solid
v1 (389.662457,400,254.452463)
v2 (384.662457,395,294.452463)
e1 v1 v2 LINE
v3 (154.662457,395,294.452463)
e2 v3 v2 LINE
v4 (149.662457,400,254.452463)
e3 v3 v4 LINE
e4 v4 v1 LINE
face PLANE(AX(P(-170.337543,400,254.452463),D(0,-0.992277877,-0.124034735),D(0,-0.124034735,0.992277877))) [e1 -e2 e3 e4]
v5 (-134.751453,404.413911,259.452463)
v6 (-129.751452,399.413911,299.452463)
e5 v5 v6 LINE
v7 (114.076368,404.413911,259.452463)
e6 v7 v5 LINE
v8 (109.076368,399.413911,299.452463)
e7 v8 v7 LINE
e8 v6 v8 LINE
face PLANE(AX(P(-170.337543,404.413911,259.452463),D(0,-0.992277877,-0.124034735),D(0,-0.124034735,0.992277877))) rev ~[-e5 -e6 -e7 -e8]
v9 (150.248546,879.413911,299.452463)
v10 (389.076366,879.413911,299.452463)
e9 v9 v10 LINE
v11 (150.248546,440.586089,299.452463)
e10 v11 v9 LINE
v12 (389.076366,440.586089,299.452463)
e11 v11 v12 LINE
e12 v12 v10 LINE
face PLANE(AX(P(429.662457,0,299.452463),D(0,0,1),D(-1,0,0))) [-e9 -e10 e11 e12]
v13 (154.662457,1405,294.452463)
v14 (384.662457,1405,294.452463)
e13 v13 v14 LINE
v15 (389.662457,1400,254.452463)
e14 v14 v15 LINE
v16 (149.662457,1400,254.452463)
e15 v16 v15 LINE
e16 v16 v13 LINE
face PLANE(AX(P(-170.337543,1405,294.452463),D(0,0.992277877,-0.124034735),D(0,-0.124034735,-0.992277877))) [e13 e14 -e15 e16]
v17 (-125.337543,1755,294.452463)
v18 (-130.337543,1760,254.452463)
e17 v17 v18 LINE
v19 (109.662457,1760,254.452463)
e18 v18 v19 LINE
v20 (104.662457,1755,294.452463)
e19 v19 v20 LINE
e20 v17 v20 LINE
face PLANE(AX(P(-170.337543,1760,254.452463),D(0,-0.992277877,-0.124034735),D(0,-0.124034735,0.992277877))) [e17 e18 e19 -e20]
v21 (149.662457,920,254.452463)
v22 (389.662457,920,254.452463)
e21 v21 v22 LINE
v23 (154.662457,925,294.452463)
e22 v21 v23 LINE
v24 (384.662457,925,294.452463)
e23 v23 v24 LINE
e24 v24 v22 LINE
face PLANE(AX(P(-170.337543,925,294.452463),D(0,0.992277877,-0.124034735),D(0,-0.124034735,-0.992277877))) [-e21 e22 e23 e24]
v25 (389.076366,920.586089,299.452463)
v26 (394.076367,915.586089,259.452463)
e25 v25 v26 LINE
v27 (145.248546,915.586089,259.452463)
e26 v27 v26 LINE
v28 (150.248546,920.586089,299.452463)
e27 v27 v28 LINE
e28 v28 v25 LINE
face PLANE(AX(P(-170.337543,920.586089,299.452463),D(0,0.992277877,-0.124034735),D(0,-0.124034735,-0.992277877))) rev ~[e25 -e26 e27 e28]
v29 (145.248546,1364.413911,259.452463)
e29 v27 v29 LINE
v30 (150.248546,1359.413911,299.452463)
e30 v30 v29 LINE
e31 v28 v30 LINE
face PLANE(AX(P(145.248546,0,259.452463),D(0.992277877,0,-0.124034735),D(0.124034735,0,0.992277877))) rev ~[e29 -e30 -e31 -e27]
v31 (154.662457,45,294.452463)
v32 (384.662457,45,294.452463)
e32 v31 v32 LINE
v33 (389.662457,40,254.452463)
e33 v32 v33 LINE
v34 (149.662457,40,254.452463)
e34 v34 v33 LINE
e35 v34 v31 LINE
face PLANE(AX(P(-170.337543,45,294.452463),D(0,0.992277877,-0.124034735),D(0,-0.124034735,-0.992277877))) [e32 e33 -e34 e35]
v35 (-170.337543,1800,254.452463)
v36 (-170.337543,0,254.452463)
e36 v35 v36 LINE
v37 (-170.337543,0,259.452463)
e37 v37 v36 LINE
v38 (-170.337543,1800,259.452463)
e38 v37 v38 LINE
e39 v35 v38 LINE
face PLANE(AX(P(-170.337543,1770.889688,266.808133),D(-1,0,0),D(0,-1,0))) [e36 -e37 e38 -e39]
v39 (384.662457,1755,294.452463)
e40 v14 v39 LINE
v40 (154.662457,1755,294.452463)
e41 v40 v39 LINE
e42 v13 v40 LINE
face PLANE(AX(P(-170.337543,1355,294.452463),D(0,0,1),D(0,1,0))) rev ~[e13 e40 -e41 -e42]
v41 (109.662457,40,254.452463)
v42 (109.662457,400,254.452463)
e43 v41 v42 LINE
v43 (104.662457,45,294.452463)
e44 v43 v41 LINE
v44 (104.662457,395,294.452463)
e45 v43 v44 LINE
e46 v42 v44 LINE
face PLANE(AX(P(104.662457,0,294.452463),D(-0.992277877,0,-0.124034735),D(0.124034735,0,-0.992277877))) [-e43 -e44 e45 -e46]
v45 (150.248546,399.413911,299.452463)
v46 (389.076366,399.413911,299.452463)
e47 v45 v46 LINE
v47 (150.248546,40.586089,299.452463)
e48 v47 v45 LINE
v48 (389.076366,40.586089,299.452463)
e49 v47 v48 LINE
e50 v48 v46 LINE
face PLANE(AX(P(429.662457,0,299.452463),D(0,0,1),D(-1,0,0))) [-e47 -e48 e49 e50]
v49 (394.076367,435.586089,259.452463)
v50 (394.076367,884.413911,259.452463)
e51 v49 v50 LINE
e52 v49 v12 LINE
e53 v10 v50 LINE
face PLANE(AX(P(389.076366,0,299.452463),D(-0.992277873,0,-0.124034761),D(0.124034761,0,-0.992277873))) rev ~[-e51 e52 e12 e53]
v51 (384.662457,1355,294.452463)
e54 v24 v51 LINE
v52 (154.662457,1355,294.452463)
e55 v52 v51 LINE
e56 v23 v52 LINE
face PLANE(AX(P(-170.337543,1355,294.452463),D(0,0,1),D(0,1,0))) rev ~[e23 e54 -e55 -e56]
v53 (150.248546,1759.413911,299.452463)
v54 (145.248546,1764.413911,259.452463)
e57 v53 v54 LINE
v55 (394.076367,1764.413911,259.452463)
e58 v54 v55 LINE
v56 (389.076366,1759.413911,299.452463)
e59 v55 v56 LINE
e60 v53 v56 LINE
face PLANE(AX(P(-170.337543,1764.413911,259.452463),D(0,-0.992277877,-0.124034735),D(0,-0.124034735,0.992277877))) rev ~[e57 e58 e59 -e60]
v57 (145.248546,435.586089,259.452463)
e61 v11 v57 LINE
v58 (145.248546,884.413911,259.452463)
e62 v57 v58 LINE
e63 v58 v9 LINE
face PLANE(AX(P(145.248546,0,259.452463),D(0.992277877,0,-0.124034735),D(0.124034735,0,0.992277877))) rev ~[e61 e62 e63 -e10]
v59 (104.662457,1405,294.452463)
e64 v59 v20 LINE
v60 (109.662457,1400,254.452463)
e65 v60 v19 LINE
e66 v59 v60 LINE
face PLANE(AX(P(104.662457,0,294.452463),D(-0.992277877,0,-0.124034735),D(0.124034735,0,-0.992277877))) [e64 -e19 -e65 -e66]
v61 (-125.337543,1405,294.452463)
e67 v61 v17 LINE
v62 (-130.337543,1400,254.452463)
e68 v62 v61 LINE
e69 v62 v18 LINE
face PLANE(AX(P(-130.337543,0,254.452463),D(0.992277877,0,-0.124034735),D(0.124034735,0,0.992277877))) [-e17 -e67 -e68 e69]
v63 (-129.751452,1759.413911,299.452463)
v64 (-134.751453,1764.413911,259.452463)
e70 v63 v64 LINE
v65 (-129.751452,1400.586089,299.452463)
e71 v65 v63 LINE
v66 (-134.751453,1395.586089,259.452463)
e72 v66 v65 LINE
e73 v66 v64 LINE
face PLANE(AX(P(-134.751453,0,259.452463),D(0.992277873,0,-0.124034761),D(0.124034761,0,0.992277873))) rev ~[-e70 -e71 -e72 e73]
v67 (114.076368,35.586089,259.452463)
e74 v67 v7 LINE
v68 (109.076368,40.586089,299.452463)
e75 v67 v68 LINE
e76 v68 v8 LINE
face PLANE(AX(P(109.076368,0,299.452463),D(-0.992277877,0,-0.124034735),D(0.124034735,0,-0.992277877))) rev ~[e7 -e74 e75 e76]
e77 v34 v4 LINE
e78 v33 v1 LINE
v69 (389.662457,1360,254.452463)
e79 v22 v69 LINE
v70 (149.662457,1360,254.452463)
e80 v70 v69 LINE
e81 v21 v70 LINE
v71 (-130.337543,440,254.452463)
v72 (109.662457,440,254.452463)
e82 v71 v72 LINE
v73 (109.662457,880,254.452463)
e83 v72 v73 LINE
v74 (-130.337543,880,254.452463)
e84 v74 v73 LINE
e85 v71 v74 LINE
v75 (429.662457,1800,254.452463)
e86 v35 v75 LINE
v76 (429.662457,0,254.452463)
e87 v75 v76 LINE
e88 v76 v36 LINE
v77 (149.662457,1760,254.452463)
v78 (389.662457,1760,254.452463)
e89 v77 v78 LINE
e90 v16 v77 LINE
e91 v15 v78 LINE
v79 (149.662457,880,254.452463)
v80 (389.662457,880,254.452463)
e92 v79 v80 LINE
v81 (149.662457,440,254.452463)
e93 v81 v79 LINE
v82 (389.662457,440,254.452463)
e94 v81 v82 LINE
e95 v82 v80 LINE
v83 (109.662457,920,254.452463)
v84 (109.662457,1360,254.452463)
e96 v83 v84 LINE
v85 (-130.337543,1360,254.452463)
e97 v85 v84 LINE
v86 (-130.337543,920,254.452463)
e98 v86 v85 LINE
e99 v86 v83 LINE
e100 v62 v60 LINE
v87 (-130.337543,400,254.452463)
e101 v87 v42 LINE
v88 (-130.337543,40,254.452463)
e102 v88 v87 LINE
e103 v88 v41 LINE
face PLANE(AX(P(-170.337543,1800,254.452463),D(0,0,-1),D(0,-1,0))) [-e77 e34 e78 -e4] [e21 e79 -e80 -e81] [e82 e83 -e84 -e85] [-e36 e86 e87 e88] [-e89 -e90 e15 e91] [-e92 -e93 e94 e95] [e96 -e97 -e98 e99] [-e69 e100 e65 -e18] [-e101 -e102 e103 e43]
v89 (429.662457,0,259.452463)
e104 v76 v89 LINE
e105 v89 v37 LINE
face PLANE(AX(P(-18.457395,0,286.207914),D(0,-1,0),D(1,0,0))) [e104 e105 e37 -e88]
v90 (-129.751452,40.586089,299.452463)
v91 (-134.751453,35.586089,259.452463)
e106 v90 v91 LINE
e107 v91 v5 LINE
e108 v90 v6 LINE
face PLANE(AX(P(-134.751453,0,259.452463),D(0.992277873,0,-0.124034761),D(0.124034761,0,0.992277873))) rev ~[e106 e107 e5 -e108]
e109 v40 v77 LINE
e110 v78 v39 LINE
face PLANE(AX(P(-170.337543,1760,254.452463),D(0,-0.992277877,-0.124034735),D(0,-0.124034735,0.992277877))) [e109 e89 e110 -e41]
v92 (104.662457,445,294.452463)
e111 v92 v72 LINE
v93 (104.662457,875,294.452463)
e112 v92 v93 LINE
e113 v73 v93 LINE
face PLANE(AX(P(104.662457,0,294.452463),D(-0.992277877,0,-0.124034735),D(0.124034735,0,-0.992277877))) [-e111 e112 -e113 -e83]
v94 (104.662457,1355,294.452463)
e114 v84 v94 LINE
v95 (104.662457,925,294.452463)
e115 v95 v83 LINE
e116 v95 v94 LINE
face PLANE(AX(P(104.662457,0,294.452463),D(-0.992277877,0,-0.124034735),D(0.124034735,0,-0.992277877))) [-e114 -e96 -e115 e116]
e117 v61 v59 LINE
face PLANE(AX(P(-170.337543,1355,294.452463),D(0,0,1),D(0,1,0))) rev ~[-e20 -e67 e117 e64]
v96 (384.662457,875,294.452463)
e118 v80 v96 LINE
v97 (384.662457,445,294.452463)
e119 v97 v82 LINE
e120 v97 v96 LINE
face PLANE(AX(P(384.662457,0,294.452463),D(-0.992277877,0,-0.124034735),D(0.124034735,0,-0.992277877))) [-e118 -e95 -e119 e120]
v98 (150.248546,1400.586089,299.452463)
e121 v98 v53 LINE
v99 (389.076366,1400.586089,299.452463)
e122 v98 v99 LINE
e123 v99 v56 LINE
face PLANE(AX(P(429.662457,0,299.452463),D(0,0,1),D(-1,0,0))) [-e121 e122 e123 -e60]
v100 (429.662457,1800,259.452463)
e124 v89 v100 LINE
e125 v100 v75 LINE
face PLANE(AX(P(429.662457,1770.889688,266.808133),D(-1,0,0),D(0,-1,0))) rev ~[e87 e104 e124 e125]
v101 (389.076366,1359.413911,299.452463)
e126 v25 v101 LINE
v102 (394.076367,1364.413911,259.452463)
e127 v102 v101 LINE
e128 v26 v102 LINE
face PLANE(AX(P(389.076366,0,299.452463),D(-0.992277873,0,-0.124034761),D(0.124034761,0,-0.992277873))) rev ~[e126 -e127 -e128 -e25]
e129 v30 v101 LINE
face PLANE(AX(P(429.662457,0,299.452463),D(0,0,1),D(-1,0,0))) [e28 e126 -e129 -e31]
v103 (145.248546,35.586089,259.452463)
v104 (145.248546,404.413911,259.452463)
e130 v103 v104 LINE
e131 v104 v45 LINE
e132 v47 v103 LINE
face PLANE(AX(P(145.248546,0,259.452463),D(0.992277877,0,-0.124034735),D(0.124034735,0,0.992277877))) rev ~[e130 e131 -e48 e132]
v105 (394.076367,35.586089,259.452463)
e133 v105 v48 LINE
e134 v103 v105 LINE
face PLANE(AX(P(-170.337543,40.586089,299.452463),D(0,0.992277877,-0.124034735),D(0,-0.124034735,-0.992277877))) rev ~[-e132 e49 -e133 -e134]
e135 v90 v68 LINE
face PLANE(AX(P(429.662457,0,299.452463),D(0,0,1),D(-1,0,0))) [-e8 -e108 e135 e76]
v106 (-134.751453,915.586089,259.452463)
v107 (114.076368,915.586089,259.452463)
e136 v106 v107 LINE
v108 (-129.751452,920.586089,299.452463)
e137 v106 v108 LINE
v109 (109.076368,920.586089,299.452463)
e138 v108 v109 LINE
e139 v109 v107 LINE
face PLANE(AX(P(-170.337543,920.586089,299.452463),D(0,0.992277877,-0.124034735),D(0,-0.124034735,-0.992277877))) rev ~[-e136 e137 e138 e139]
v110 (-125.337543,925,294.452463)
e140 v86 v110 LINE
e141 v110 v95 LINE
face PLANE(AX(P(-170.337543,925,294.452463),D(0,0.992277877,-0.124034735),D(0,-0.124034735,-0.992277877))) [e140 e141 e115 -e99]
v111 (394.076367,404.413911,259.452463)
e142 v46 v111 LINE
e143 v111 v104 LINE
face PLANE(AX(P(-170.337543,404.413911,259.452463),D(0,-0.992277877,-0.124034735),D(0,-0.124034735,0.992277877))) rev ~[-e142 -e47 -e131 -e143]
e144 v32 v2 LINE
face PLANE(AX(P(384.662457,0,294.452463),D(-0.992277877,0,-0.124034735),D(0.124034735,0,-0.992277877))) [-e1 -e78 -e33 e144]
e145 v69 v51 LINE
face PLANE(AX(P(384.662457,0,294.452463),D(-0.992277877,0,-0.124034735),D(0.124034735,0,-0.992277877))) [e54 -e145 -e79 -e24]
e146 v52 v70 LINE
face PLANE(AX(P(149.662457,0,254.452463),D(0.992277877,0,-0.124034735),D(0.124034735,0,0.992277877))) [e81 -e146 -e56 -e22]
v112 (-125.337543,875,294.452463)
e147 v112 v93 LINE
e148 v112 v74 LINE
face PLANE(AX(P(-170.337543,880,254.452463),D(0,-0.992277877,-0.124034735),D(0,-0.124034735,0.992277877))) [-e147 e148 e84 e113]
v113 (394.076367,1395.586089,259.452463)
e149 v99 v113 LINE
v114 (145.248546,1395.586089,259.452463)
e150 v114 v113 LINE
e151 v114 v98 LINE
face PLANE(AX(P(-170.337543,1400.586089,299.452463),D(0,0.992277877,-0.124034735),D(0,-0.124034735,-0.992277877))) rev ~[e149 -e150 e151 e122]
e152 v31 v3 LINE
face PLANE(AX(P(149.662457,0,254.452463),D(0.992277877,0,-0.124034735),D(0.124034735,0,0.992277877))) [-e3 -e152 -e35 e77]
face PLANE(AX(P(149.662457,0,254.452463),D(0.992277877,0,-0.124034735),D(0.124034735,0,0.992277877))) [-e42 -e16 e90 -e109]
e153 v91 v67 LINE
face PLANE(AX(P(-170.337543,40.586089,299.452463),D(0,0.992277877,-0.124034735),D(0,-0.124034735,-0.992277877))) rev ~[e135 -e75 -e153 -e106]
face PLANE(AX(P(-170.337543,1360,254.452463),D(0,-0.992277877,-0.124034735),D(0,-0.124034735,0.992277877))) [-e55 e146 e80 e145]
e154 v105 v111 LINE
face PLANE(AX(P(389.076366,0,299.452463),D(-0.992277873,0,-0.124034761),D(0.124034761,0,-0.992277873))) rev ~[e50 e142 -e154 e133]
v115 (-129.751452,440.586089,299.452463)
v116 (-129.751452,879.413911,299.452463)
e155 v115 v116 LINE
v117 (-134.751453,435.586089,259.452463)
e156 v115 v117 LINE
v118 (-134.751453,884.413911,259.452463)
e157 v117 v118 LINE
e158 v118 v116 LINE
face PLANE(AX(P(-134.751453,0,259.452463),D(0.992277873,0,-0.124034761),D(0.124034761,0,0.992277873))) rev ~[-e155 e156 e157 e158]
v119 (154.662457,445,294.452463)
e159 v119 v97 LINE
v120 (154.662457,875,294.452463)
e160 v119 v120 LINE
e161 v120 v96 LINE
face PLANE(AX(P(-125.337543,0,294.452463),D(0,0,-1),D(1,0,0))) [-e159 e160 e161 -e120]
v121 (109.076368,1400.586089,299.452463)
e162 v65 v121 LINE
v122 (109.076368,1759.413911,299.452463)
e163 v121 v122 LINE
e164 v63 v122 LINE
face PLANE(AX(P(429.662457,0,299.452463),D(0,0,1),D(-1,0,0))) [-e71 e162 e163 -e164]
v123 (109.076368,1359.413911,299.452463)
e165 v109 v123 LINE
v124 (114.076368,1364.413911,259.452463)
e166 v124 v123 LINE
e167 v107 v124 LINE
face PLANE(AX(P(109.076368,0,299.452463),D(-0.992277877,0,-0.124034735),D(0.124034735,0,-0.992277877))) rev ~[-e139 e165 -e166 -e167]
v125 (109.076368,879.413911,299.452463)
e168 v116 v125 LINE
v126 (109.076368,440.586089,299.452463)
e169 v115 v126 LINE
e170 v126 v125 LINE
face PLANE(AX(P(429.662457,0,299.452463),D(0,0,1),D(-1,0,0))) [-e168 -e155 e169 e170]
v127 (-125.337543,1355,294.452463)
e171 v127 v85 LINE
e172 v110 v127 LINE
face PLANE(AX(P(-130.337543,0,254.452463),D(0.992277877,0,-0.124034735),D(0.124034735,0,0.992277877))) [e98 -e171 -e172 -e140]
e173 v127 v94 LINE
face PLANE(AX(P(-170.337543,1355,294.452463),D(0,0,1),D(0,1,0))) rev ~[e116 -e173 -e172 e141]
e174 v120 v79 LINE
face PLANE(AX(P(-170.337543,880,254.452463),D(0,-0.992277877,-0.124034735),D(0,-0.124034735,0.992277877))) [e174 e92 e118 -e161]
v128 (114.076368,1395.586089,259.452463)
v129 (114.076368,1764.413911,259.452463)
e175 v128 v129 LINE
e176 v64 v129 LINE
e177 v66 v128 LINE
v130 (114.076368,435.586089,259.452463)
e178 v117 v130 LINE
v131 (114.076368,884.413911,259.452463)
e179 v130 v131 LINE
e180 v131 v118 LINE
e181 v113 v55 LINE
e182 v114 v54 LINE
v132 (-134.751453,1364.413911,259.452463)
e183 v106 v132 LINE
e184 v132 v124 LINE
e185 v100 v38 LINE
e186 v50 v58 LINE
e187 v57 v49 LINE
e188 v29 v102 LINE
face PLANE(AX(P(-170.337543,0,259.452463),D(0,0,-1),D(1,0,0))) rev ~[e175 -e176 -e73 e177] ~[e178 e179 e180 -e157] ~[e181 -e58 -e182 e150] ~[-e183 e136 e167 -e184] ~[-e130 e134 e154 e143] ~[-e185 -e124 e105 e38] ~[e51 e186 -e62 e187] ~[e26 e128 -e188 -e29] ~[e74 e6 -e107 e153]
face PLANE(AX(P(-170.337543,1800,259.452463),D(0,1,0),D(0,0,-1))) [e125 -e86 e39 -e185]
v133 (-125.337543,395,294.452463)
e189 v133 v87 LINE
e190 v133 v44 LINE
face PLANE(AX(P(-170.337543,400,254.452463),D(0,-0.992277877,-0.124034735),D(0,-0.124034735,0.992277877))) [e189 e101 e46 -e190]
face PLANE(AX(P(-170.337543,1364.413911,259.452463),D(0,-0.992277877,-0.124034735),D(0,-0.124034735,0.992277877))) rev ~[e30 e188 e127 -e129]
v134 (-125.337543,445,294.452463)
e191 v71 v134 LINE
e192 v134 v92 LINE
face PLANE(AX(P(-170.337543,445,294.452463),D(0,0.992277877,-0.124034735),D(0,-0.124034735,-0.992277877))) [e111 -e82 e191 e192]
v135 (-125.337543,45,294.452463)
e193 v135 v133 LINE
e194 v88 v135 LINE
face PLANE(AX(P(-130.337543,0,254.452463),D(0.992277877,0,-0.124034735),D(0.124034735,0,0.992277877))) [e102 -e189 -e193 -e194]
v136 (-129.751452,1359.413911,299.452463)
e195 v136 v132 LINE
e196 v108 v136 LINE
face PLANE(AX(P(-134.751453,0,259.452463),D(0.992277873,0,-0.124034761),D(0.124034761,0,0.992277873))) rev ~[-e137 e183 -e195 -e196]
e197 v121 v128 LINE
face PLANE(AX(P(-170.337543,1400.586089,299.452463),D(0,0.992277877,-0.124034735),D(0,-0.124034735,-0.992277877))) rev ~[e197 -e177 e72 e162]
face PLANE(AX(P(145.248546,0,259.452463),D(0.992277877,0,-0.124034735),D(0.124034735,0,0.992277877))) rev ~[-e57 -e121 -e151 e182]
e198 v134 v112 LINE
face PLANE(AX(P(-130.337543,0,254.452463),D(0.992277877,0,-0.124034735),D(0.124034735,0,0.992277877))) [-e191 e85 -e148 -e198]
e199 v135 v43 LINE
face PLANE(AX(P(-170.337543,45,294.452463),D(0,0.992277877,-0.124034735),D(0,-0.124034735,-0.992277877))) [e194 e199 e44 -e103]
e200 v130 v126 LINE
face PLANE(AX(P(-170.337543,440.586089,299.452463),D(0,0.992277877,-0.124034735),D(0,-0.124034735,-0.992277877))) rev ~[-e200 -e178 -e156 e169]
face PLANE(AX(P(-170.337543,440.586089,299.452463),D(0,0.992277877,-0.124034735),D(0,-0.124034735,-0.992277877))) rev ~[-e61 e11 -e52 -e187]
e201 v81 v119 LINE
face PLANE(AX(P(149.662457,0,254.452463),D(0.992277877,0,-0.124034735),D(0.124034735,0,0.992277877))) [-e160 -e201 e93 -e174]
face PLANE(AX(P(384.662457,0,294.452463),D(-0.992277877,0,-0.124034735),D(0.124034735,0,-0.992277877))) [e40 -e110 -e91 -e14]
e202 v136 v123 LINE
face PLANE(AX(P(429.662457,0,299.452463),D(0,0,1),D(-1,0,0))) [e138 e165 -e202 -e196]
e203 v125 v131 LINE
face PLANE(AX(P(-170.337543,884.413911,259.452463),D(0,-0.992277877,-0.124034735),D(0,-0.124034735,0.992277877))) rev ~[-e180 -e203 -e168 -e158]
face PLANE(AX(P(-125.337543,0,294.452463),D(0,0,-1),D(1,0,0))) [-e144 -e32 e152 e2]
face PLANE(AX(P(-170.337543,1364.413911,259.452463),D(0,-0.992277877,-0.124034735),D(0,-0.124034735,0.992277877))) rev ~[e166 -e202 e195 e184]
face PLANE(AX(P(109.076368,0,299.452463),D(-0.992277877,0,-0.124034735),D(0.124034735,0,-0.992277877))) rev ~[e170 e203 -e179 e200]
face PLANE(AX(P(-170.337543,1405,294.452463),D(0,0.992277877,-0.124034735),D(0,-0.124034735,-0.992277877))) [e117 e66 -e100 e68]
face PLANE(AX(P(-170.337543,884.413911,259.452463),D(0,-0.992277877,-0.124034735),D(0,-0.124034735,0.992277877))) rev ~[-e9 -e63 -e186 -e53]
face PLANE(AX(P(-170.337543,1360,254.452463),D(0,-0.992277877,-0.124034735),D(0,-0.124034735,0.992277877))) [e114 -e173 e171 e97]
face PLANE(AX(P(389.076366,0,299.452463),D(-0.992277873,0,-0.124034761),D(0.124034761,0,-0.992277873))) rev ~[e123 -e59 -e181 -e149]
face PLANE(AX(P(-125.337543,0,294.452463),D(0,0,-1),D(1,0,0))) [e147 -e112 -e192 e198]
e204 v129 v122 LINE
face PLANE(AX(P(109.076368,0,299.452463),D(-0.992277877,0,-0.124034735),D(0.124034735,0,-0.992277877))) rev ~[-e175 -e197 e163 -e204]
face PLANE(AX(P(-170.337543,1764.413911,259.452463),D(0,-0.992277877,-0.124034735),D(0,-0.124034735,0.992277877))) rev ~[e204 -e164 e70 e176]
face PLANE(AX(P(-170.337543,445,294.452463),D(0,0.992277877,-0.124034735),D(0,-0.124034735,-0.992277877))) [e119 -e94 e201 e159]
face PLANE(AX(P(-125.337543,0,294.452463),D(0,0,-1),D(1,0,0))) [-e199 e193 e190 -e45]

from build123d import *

# Parameters (mm, degrees)
F1_DEPTH  = 1800
F3_DEPTH  = 800
F4_DEPTH  = 600
F5_DEPTH  = 600
F6_DEPTH  = 800
F7_DEPTH  = 600
F8_DEPTH  = 1900
F9_DEPTH  = 1900
F10_DEPTH = 1900
F11_DEPTH = 800


with BuildPart() as f1:
    # F0 (on Front) → F1 (new body)
    with BuildSketch(Plane.XZ):
        Polygon((-134.7514528915, 259.4524627924), (-170.3375428915, 259.4524627924), (-170.3375428915, 254.4524627924), (-130.3375428915, 254.4524627924), (-125.3375428915, 294.4524627924), (104.6624571085, 294.4524627924), (109.6624571085, 254.4524627924), (129.6624571085, 254.4524627924), (129.6624571085, 259.4524627924), (114.0763682012, 259.4524627924), (109.0763682012, 299.4524627924), (-129.7514517988, 299.4524627924), align=None)
        Polygon((-170.3375428915, 299.4524627924), (-170.3375428915, 259.4524627924), (-134.7514528915, 259.4524627924), (-129.7514517988, 299.4524627924), align=None)
        Polygon((150.2485460158, 299.4524627924), (109.0763682012, 299.4524627924), (114.0763682012, 259.4524627924), (129.6624571085, 259.4524627924), (145.2485460158, 259.4524627924), align=None)
        Polygon((389.0763660158, 299.4524627924), (150.2485460158, 299.4524627924), (145.2485460158, 259.4524627924), (129.6624571085, 259.4524627924), (129.6624571085, 254.4524627924), (149.6624571085, 254.4524627924), (154.6624571085, 294.4524627924), (384.6624571085, 294.4524627924), (389.6624571085, 254.4524627924), (429.6624571085, 254.4524627924), (429.6624571085, 259.4524627924), (394.0763671085, 259.4524627924), align=None)
        Polygon((429.6624571085, 299.4524627924), (389.0763660158, 299.4524627924), (394.0763671085, 259.4524627924), (429.6624571085, 259.4524627924), align=None)
    extrude(amount=-F1_DEPTH)

    # F2 (on face) → F3 (cut)
    with BuildSketch(Plane(origin=(-170.3375428915, 0, 0), x_dir=(0, -1, 0), z_dir=(-1, 0, 0))):
        Polygon((-1800, 254.4524627924), (-1760, 254.4524627924), (-1759.375, 259.4524627924), (-1755, 294.4524627924), (-1760.0389110927, 294.4524627924), (-1764.4139110927, 259.4524627924), (-1800, 259.4524627924), align=None)
    extrude(amount=-F3_DEPTH, mode=Mode.SUBTRACT)

    # F2 (on face) → F4 (join)
    with BuildSketch(Plane(origin=(-170.3375428915, 0, 0), x_dir=(0, -1, 0), z_dir=(-1, 0, 0))):
        Polygon((-1760.0389110927, 294.4524627924), (-1759.4139110927, 299.4524627924), (-1800, 299.4524627924), (-1800, 259.4524627924), (-1764.4139110927, 259.4524627924), align=None)
    extrude(amount=-F4_DEPTH)

    # F2 (on face) → F5 (join)
    with BuildSketch(Plane(origin=(-170.3375428915, 0, 0), x_dir=(0, -1, 0), z_dir=(-1, 0, 0))):
        Polygon((-1800, 254.4524627924), (-1760, 254.4524627924), (-1759.375, 259.4524627924), (-1755, 294.4524627924), (-1760.0389110927, 294.4524627924), (-1764.4139110927, 259.4524627924), (-1800, 259.4524627924), align=None)
    extrude(amount=-F5_DEPTH)

    # F2 (on face) → F6 (cut)
    with BuildSketch(Plane(origin=(-170.3375428915, 0, 0), x_dir=(0, -1, 0), z_dir=(-1, 0, 0))):
        Polygon((-1400, 254.4524627924), (-1360, 254.4524627924), (-1355, 294.4524627924), (-1360.0389110927, 294.4524627924), (-1364.4139110927, 259.4524627924), (-1395.5860889073, 259.4524627924), (-1399.9610889073, 294.4524627924), (-1405, 294.4524627924), (-1400.625, 259.4524627924), align=None)
        Polygon((-880.0389110927, 294.4524627924), (-879.4139110927, 299.4524627924), (-900, 299.4524627924), (-900, 259.4524627924), (-884.4139110927, 259.4524627924), align=None)
        Polygon((-920, 254.4524627924), (-900, 254.4524627924), (-900, 259.4524627924), (-915.5860889073, 259.4524627924), (-919.9610889073, 294.4524627924), (-925, 294.4524627924), align=None)
        Polygon((-400.0389110927, 294.4524627924), (-399.4139110927, 299.4524627924), (-440.5860889073, 299.4524627924), (-439.9610889073, 294.4524627924), (-435.5860889073, 259.4524627924), (-404.4139110927, 259.4524627924), align=None)
        Polygon((-35.5860889073, 259.4524627924), (0, 259.4524627924), (0, 299.4524627924), (-40.5860889073, 299.4524627924), (-39.9610889073, 294.4524627924), align=None)
    extrude(amount=-F6_DEPTH, mode=Mode.SUBTRACT)

    # F2 (on face) → F7 (join)
    with BuildSketch(Plane(origin=(-170.3375428915, 0, 0), x_dir=(0, -1, 0), z_dir=(-1, 0, 0))):
        Polygon((-40, 254.4524627924), (0, 254.4524627924), (0, 259.4524627924), (-35.5860889073, 259.4524627924), (-39.9610889073, 294.4524627924), (-45, 294.4524627924), (-40.625, 259.4524627924), align=None)
        Polygon((-440, 254.4524627924), (-400, 254.4524627924), (-399.375, 259.4524627924), (-395, 294.4524627924), (-400.0389110927, 294.4524627924), (-404.4139110927, 259.4524627924), (-435.5860889073, 259.4524627924), (-439.9610889073, 294.4524627924), (-445, 294.4524627924), (-440.625, 259.4524627924), align=None)
        Polygon((-920, 254.4524627924), (-900, 254.4524627924), (-900, 259.4524627924), (-915.5860889073, 259.4524627924), (-919.9610889073, 294.4524627924), (-925, 294.4524627924), align=None)
        Polygon((-915.5860889073, 259.4524627924), (-900, 259.4524627924), (-900, 299.4524627924), (-920.5860889073, 299.4524627924), (-919.9610889073, 294.4524627924), align=None)
        Polygon((-900, 254.4524627924), (-880, 254.4524627924), (-879.375, 259.4524627924), (-875, 294.4524627924), (-880.0389110927, 294.4524627924), (-884.4139110927, 259.4524627924), (-900, 259.4524627924), align=None)
        Polygon((-1400, 254.4524627924), (-1360, 254.4524627924), (-1355, 294.4524627924), (-1360.0389110927, 294.4524627924), (-1364.4139110927, 259.4524627924), (-1395.5860889073, 259.4524627924), (-1399.9610889073, 294.4524627924), (-1405, 294.4524627924), (-1400.625, 259.4524627924), align=None)
        Polygon((-1360.0389110927, 294.4524627924), (-1359.4139110927, 299.4524627924), (-1400.5860889073, 299.4524627924), (-1399.9610889073, 294.4524627924), (-1395.5860889073, 259.4524627924), (-1364.4139110927, 259.4524627924), align=None)
    extrude(amount=-F7_DEPTH)

    # F0 (on Front) → F8 (cut)
    with BuildSketch(Plane.XZ):
        Polygon((-170.3375428915, 299.4524627924), (-170.3375428915, 259.4524627924), (-134.7514528915, 259.4524627924), (-129.7514517988, 299.4524627924), align=None)
    extrude(amount=-F8_DEPTH, mode=Mode.SUBTRACT)

    # F0 (on Front) → F9 (cut)
    with BuildSketch(Plane.XZ):
        Polygon((150.2485460158, 299.4524627924), (109.0763682012, 299.4524627924), (114.0763682012, 259.4524627924), (129.6624571085, 259.4524627924), (145.2485460158, 259.4524627924), align=None)
    extrude(amount=-F9_DEPTH, mode=Mode.SUBTRACT)

    # F0 (on Front) → F10 (cut)
    with BuildSketch(Plane.XZ):
        Polygon((429.6624571085, 299.4524627924), (389.0763660158, 299.4524627924), (394.0763671085, 259.4524627924), (429.6624571085, 259.4524627924), align=None)
    extrude(amount=-F10_DEPTH, mode=Mode.SUBTRACT)

    # F2 (on face) → F11 (cut)
    with BuildSketch(Plane(origin=(-170.3375428915, 0, 0), x_dir=(0, -1, 0), z_dir=(-1, 0, 0))):
        Polygon((-1760.0389110927, 294.4524627924), (-1759.4139110927, 299.4524627924), (-1800, 299.4524627924), (-1800, 259.4524627924), (-1764.4139110927, 259.4524627924), align=None)
        Polygon((-1360.0389110927, 294.4524627924), (-1359.4139110927, 299.4524627924), (-1400.5860889073, 299.4524627924), (-1399.9610889073, 294.4524627924), (-1395.5860889073, 259.4524627924), (-1364.4139110927, 259.4524627924), align=None)
        Polygon((-915.5860889073, 259.4524627924), (-900, 259.4524627924), (-900, 299.4524627924), (-920.5860889073, 299.4524627924), (-919.9610889073, 294.4524627924), align=None)
    extrude(amount=-F11_DEPTH, mode=Mode.SUBTRACT)


solid = f1.part
